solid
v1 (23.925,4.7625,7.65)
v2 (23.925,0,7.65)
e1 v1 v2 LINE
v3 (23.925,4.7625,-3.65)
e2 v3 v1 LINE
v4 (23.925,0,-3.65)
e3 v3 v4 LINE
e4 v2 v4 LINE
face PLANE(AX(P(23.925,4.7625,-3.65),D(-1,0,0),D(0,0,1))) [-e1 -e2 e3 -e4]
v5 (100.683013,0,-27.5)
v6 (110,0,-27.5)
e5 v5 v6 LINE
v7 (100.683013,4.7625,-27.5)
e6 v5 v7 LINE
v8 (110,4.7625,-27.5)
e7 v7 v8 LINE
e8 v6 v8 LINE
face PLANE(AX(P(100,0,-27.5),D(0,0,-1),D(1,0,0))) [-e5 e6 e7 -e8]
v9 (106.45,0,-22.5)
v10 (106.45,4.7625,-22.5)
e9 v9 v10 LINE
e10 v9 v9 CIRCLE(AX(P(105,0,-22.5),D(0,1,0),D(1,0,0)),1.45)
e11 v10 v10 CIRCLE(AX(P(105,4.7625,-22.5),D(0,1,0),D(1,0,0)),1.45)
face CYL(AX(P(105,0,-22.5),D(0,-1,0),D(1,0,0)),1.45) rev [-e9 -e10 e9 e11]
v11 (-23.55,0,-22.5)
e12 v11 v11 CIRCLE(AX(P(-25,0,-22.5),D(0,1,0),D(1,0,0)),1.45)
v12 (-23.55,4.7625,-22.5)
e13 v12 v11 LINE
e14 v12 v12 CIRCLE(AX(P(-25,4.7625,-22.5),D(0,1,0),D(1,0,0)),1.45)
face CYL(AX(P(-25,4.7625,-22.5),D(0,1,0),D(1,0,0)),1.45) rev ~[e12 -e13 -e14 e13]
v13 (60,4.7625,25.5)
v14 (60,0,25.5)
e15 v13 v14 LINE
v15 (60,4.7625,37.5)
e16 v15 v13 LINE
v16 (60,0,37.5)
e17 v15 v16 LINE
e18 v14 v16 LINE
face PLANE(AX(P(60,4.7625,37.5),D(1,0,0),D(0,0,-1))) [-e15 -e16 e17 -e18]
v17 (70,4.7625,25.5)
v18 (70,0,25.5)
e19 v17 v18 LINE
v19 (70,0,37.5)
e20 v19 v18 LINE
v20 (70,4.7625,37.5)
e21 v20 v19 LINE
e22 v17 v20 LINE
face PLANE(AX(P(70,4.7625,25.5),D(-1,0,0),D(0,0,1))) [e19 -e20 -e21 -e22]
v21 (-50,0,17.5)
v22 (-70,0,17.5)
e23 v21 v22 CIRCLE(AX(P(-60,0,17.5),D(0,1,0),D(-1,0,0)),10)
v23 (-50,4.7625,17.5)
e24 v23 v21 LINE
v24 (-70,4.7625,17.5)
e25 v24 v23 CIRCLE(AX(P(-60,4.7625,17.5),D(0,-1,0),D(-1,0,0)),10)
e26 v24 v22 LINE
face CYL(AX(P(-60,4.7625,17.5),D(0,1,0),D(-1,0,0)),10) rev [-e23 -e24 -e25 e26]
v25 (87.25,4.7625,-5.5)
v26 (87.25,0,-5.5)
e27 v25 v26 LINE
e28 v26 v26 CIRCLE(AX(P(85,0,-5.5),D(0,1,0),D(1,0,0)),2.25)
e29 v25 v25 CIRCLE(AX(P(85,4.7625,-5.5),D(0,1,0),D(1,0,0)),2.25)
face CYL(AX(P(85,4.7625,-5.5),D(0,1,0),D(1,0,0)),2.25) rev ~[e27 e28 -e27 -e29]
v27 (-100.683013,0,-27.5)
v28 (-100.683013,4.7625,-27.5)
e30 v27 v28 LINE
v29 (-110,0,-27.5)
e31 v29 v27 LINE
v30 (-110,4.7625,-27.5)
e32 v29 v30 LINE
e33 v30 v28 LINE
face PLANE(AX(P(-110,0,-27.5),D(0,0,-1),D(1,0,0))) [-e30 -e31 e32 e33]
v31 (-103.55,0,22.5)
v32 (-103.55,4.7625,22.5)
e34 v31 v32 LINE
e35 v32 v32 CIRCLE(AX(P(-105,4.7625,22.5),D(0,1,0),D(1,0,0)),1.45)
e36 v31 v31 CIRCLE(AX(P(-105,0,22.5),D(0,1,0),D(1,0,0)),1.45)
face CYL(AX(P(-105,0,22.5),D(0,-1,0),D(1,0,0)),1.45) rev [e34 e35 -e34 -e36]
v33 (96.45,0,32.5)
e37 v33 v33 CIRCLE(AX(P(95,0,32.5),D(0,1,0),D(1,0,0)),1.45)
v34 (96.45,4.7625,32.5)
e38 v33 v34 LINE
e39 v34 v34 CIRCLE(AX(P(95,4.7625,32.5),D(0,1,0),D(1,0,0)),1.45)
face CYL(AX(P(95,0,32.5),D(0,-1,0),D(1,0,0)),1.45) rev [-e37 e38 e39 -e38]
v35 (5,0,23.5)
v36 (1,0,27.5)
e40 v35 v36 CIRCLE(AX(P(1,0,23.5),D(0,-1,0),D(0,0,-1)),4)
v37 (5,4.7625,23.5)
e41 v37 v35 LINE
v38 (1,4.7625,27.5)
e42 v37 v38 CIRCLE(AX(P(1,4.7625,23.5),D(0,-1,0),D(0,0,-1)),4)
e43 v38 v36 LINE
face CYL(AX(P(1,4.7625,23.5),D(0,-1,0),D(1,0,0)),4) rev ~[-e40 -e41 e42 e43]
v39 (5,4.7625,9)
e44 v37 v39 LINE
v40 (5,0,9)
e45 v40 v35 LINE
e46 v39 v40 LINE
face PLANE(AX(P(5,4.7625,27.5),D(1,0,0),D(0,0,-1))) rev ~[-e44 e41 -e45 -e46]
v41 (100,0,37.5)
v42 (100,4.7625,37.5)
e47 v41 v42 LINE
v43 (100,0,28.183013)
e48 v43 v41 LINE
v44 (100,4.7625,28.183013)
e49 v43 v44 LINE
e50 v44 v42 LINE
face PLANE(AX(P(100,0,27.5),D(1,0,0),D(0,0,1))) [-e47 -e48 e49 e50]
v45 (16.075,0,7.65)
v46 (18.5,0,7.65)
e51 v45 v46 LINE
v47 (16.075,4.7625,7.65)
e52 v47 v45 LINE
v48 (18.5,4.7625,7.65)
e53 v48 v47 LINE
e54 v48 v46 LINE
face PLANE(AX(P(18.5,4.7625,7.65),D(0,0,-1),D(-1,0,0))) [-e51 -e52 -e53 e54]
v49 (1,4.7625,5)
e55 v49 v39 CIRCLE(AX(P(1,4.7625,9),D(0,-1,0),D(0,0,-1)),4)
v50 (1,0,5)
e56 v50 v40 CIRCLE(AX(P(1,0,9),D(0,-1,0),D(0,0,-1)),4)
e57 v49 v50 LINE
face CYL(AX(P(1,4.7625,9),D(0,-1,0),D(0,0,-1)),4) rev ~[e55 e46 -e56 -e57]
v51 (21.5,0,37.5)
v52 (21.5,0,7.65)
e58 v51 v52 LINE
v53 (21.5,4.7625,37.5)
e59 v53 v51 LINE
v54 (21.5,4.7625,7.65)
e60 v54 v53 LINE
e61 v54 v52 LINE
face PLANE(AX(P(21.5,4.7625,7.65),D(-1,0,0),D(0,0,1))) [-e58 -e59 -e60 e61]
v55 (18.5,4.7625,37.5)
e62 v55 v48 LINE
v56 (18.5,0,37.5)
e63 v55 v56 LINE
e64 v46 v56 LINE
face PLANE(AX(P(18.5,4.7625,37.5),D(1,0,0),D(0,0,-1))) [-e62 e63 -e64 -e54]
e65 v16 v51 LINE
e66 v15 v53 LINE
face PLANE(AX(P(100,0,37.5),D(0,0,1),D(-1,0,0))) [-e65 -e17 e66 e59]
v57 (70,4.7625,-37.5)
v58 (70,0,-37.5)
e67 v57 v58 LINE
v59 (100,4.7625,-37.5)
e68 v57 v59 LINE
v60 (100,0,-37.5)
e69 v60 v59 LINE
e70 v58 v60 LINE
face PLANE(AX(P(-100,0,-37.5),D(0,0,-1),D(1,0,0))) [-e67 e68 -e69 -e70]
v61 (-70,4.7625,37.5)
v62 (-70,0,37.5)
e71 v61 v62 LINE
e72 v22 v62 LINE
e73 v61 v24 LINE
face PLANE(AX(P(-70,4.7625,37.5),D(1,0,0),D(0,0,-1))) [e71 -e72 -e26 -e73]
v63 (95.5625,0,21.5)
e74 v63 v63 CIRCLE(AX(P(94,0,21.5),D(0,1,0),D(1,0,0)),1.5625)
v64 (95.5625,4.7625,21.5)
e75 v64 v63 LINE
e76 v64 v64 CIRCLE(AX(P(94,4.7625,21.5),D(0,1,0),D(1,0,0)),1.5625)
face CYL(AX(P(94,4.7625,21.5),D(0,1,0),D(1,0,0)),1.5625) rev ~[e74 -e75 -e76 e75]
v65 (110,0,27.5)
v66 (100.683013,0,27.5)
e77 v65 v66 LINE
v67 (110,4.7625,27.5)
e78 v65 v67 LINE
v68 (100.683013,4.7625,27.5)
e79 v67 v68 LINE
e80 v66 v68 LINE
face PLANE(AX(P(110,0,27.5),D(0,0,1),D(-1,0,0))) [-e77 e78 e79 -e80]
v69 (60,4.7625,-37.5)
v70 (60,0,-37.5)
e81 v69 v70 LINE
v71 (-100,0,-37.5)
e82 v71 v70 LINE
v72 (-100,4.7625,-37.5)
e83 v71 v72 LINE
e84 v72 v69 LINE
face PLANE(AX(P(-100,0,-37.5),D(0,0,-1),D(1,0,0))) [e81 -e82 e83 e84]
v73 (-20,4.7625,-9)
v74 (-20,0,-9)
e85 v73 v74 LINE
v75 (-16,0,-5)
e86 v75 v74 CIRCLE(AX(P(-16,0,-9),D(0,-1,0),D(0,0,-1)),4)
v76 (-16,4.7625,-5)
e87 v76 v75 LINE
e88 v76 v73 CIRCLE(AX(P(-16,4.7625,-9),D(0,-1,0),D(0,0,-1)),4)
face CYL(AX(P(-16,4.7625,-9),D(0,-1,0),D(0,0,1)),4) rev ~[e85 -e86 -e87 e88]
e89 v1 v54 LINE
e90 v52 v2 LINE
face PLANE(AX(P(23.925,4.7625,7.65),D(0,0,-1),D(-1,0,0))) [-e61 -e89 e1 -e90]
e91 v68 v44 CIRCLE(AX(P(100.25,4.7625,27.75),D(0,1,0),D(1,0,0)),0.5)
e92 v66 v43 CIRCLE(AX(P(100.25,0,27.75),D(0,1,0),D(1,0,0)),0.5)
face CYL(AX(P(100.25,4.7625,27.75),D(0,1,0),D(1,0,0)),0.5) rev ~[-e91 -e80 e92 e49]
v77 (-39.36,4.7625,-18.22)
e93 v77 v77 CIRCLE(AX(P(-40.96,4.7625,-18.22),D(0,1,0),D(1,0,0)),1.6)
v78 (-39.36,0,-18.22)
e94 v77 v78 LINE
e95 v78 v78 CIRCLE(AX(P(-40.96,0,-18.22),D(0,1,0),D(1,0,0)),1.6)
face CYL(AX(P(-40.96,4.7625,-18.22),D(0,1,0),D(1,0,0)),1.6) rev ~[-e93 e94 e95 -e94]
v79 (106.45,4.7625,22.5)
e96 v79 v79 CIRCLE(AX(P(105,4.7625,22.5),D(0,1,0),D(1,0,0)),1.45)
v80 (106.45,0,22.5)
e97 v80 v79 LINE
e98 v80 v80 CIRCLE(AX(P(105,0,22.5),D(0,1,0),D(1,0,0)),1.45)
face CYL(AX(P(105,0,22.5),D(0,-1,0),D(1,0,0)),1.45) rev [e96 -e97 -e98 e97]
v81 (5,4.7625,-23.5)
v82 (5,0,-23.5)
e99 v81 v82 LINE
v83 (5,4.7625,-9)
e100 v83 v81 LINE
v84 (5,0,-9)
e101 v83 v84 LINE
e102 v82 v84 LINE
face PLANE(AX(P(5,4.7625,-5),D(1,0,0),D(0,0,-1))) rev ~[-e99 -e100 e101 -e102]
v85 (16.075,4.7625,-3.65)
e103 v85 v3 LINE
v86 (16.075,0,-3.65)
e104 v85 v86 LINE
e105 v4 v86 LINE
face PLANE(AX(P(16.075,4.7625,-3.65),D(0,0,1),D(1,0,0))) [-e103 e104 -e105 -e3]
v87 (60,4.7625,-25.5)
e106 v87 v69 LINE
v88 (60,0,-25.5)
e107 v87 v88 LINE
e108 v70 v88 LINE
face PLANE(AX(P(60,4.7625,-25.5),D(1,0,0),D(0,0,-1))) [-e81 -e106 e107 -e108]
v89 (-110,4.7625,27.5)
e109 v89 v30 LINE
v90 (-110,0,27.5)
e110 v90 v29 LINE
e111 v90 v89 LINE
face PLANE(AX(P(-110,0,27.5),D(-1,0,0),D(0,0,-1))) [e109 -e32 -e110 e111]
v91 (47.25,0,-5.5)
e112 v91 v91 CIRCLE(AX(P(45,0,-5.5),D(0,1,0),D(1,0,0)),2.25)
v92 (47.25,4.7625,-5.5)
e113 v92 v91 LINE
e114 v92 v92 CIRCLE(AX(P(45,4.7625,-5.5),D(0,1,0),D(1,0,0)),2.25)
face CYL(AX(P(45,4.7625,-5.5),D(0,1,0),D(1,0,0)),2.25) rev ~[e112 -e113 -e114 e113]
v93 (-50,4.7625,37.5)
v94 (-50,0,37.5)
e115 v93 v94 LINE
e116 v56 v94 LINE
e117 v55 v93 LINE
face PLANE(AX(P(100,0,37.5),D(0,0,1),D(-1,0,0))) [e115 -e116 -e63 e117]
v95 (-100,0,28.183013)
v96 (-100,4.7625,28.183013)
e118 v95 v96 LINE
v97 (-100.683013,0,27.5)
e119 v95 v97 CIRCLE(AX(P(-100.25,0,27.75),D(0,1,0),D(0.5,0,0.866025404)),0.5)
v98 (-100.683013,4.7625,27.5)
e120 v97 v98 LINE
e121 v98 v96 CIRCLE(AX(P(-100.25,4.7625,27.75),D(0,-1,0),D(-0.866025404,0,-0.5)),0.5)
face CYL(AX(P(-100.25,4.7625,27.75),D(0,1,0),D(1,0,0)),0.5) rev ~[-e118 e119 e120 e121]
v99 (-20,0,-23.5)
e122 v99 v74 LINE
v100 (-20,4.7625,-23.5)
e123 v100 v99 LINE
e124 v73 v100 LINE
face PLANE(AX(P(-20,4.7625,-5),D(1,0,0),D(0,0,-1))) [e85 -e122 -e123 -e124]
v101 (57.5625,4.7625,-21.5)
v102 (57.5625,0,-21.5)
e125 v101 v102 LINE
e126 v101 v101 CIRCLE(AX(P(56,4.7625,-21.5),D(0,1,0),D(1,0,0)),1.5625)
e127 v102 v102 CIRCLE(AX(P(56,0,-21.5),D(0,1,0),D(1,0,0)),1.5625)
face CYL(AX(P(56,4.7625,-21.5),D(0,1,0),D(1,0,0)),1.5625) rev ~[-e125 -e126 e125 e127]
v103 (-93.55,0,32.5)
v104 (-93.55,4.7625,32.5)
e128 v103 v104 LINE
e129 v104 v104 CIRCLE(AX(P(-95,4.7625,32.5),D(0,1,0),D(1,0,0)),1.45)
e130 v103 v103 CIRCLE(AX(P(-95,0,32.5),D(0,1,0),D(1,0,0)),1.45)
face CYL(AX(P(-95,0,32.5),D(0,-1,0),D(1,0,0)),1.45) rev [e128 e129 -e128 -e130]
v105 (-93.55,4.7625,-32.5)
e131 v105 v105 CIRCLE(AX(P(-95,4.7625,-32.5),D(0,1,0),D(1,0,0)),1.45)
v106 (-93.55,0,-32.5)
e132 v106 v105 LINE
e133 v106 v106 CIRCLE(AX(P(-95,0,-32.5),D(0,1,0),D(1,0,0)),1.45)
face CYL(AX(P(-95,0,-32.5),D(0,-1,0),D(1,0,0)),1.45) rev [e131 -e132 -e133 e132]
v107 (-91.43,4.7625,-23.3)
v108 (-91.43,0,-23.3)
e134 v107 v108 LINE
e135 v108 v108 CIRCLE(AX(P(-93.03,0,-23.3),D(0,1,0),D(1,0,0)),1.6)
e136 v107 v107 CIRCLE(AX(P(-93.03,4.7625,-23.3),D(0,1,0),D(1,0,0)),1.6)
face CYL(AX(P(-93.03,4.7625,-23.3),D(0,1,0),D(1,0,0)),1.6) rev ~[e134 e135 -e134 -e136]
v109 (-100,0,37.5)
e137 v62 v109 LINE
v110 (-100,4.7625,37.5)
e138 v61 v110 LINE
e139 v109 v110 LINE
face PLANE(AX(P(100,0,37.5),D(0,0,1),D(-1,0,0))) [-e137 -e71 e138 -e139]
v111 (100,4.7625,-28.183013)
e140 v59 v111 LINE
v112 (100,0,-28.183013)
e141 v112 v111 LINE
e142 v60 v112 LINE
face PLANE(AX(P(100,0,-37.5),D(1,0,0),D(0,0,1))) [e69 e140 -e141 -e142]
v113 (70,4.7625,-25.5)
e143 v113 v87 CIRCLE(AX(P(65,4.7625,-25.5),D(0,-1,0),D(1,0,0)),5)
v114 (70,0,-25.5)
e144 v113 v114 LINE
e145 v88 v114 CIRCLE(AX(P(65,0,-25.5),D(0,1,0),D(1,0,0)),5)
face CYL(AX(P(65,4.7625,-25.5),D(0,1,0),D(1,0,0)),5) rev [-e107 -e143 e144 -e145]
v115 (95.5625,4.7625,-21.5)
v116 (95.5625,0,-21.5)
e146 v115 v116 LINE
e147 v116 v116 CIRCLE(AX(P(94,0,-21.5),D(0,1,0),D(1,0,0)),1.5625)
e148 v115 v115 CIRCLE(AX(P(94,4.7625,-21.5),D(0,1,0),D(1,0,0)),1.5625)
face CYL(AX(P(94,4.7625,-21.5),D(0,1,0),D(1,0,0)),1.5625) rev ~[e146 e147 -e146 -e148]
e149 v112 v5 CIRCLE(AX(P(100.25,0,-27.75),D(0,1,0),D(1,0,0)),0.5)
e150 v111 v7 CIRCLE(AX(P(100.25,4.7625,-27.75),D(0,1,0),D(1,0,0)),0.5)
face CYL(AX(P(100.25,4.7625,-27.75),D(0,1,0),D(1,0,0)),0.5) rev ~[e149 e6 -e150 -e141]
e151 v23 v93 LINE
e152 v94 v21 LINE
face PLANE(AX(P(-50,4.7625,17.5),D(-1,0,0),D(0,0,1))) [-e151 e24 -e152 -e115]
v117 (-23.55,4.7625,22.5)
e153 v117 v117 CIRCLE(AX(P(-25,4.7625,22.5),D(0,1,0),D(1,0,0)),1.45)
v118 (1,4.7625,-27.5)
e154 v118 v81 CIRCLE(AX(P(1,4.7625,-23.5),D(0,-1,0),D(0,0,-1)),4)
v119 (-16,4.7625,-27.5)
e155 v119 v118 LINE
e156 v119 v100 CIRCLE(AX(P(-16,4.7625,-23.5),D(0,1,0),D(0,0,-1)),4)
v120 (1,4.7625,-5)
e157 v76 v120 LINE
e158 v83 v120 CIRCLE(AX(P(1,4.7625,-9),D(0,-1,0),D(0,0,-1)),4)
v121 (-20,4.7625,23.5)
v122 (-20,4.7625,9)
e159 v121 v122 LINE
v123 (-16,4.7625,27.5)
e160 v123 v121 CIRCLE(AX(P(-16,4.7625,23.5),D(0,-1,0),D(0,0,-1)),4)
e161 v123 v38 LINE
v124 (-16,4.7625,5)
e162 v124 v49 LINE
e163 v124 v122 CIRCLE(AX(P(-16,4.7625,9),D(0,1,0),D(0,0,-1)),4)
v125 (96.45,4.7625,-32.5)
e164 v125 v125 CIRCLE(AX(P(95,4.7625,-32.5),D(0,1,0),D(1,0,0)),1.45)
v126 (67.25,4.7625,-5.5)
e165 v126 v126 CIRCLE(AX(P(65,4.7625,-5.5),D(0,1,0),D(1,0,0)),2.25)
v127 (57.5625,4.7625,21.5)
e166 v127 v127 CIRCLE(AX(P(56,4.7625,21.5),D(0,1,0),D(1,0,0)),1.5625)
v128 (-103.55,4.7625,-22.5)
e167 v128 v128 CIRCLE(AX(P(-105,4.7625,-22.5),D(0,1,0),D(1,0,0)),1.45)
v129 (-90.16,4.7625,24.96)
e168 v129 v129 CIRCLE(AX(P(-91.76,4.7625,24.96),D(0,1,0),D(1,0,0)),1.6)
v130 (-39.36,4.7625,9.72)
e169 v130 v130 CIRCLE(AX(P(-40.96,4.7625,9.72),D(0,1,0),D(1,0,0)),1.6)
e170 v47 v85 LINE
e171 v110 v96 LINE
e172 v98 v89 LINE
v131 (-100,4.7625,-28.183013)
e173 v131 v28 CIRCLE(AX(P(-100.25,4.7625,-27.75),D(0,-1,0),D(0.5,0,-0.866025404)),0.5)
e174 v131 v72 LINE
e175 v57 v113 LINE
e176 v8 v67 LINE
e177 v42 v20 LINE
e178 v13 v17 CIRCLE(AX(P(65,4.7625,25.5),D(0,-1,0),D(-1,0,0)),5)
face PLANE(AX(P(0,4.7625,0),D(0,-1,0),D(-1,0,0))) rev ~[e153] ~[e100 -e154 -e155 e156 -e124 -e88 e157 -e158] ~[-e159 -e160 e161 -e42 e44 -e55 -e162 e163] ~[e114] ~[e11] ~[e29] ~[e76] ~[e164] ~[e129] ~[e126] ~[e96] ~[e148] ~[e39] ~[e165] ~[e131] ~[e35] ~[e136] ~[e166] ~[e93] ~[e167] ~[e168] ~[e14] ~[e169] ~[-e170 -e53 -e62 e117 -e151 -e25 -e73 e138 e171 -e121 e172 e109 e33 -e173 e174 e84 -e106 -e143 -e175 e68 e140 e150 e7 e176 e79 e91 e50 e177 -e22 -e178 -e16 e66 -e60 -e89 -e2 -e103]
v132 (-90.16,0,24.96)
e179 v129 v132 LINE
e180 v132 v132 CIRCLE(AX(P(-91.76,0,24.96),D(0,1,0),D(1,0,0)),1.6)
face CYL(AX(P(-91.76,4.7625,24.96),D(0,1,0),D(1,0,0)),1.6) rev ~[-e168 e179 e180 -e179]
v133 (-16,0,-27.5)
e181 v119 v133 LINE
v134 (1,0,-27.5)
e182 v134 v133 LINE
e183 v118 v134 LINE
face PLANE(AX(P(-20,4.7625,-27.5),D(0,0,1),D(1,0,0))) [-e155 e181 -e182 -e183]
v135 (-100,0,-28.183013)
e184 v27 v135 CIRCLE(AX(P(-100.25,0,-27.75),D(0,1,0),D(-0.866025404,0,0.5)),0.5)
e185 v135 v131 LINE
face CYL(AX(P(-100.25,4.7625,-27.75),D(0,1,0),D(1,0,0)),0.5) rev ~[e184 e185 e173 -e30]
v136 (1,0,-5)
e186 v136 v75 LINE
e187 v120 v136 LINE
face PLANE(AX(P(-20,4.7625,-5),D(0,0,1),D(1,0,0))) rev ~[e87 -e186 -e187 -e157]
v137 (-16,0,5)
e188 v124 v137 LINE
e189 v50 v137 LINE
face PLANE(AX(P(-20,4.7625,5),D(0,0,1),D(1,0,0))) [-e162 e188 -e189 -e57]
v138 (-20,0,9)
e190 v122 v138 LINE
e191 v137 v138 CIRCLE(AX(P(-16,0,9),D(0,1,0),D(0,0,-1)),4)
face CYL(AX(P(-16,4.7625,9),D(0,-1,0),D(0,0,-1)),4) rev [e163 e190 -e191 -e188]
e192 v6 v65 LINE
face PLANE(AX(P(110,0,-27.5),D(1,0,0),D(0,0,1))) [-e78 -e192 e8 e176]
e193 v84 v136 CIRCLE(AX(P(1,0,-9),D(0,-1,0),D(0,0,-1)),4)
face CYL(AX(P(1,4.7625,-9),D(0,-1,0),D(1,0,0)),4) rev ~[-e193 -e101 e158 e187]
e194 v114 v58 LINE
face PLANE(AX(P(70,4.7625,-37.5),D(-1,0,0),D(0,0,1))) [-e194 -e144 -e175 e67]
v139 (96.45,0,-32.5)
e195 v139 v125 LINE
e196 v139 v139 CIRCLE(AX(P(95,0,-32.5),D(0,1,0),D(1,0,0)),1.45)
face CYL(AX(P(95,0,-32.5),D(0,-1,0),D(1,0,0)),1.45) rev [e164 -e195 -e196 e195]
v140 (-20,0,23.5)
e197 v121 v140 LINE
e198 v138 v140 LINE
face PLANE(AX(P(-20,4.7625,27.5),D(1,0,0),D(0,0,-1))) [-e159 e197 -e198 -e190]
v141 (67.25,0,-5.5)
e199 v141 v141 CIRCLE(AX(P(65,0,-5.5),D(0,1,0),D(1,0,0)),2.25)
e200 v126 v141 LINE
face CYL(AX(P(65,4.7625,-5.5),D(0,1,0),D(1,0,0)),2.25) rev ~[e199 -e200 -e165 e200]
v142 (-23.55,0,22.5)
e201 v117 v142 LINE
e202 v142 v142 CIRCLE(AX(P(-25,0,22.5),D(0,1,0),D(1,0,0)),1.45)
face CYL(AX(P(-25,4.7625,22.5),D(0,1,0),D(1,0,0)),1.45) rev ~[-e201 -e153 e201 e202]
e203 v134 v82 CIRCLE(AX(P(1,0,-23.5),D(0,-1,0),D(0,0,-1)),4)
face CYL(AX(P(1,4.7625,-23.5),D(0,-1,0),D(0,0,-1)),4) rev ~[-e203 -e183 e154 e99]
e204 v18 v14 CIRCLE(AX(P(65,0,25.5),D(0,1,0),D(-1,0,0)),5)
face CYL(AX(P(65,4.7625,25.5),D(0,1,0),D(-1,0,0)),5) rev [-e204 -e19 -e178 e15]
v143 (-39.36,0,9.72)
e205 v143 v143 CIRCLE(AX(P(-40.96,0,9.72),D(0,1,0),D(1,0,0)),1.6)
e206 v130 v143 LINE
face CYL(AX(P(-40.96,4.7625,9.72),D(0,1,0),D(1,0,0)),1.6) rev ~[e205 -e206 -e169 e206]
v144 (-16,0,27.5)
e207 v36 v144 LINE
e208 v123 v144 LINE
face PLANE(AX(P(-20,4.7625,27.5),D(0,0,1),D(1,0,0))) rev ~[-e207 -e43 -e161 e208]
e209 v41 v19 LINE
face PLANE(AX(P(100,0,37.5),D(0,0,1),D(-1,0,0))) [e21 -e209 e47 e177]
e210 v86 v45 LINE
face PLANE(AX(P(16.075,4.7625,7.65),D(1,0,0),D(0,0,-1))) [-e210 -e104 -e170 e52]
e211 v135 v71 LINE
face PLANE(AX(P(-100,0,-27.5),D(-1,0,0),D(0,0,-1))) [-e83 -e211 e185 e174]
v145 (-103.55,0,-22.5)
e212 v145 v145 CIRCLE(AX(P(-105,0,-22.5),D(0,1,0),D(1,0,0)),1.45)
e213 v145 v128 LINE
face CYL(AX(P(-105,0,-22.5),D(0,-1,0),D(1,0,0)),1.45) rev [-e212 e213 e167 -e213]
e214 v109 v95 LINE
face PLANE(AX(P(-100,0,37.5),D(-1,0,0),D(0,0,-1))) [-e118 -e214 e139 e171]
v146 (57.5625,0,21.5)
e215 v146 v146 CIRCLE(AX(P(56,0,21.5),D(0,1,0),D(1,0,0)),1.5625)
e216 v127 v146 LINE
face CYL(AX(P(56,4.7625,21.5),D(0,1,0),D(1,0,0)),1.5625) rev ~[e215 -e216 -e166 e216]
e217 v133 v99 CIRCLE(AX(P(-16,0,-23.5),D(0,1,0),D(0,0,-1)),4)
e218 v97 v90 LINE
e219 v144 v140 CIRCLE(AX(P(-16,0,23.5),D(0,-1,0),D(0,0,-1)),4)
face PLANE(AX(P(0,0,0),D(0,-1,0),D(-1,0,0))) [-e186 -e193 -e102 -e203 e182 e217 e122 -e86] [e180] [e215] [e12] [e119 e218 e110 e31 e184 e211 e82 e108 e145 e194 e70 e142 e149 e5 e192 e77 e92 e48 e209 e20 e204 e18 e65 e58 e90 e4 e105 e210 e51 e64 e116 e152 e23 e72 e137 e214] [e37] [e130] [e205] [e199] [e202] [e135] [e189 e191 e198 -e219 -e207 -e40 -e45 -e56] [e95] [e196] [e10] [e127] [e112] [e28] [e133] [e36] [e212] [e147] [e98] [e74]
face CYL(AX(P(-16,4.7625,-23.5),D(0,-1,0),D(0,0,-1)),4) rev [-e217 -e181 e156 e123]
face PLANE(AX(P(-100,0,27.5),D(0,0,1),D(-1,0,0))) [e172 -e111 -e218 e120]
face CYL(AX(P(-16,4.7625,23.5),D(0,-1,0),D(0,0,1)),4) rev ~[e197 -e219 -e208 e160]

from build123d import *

# Parameters (mm, degrees)
SKETCH1_R           = 1.45
BOSS_EXTRUDE1_DEPTH = 4.7625
SKETCH2_R           = 1.45
SKETCH2_R_2         = 1.6
SKETCH2_R_3         = 2.25
SKETCH2_R_4         = 1.5625
SKETCH2_W           = 25
SKETCH2_H           = 22.5
CUT_EXTRUDE1_DEPTH  = 5.7625
SKETCH3_R           = 0.5
CUT_EXTRUDE2_DEPTH  = 5.7625
FILLET1_R           = 4


with BuildPart() as part:
    # Sketch1 → Boss-Extrude1 (new body)
    with BuildSketch(Plane(origin=(0, 0, 0), x_dir=(1, 0, 0), z_dir=(0, 1, 0))):
        Polygon((100, 37.5), (100, 27.5), (110, 27.5), (110, -27.5), (100, -27.5), (100, -37.5), (-100, -37.5), (-100, -27.5), (-110, -27.5), (-110, 27.5), (-100, 27.5), (-100, 37.5), align=None)
        with Locations((-95, 32.5)):
            Circle(SKETCH1_R, mode=Mode.SUBTRACT)
        with Locations((-105, 22.5)):
            Circle(SKETCH1_R, mode=Mode.SUBTRACT)
        with Locations((105, 22.5)):
            Circle(SKETCH1_R, mode=Mode.SUBTRACT)
        with Locations((95, 32.5)):
            Circle(SKETCH1_R, mode=Mode.SUBTRACT)
        with Locations((-105, -22.5)):
            Circle(SKETCH1_R, mode=Mode.SUBTRACT)
        with Locations((-95, -32.5)):
            Circle(SKETCH1_R, mode=Mode.SUBTRACT)
        with Locations((95, -32.5)):
            Circle(SKETCH1_R, mode=Mode.SUBTRACT)
        with Locations((105, -22.5)):
            Circle(SKETCH1_R, mode=Mode.SUBTRACT)
    extrude(amount=BOSS_EXTRUDE1_DEPTH)

    # Sketch2 → Cut-Extrude1 (cut, through all)
    with BuildSketch(Plane(origin=(0, 4.7625, 0), x_dir=(1, 0, 0), z_dir=(0, 1, 0))):
        with Locations((-25, -22.5)):
            Circle(SKETCH2_R)
        with Locations((-25, 22.5)):
            Circle(SKETCH2_R)
        with Locations((-91.76, -24.96)):
            Circle(SKETCH2_R_2)
        with Locations((-93.03, 23.3)):
            Circle(SKETCH2_R_2)
        with Locations((-40.96, -9.72)):
            Circle(SKETCH2_R_2)
        with Locations((-40.96, 18.22)):
            Circle(SKETCH2_R_2)
        with Locations((45, 5.5)):
            Circle(SKETCH2_R_3)
        with Locations((65, 5.5)):
            Circle(SKETCH2_R_3)
        with Locations((85, 5.5)):
            Circle(SKETCH2_R_3)
        with Locations((56, -21.5)):
            Circle(SKETCH2_R_4)
        with Locations((94, -21.5)):
            Circle(SKETCH2_R_4)
        with Locations((94, 21.5)):
            Circle(SKETCH2_R_4)
        with Locations((56, 21.5)):
            Circle(SKETCH2_R_4)
        Polygon((16.075, 3.65), (23.925, 3.65), (23.925, -7.65), (21.5, -7.65), (21.5, -37.5), (18.5, -37.5), (18.5, -7.65), (16.075, -7.65), align=None)
        with BuildLine():
            Line((70, 37.5), (70, 25.5))
            ThreePointArc((70, 25.5), (65, 20.5), (60, 25.5))
            Line((60, 25.5), (60, 37.5))
            ThreePointArc((60, 37.5), (65, 42.5), (70, 37.5))
        make_face()
        with BuildLine():
            Line((60, -37.5), (60, -25.5))
            ThreePointArc((60, -25.5), (65, -20.5), (70, -25.5))
            Line((70, -25.5), (70, -37.5))
            ThreePointArc((70, -37.5), (65, -42.5), (60, -37.5))
        make_face()
        with Locations((-7.5, -16.25)):
            Rectangle(SKETCH2_W, SKETCH2_H)
        with Locations((-7.5, 16.25)):
            Rectangle(SKETCH2_W, SKETCH2_H)
        with BuildLine():
            Line((-70, -37.5), (-70, -17.5))
            ThreePointArc((-70, -17.5), (-60, -7.5), (-50, -17.5))
            Line((-50, -17.5), (-50, -37.5))
            ThreePointArc((-50, -37.5), (-60, -47.5), (-70, -37.5))
        make_face()
    extrude(amount=-CUT_EXTRUDE1_DEPTH, mode=Mode.SUBTRACT)

    # Sketch3 → Cut-Extrude2 (cut, through all)
    with BuildSketch(Plane(origin=(0, 4.7625, 0), x_dir=(1, 0, 0), z_dir=(0, 1, 0))):
        with Locations((-100.25, 27.75)):
            Circle(SKETCH3_R)
        with Locations((-100.25, -27.75)):
            Circle(SKETCH3_R)
        with Locations((100.25, -27.75)):
            Circle(SKETCH3_R)
        with Locations((100.25, 27.75)):
            Circle(SKETCH3_R)
    extrude(amount=-CUT_EXTRUDE2_DEPTH, mode=Mode.SUBTRACT)

    # Fillet1
    fillet1_edges = [part.edges().sort_by_distance(p)[0] for p in [
        (-20, 2.38125, 27.5),
        (-20, 2.38125, 5),
        (5, 2.38125, 5),
        (5, 2.38125, 27.5),
        (-20, 2.38125, -5),
        (-20, 2.38125, -27.5),
        (5, 2.38125, -27.5),
        (5, 2.38125, -5),
    ]]
    fillet(fillet1_edges, radius=FILLET1_R)


solid = part.part
